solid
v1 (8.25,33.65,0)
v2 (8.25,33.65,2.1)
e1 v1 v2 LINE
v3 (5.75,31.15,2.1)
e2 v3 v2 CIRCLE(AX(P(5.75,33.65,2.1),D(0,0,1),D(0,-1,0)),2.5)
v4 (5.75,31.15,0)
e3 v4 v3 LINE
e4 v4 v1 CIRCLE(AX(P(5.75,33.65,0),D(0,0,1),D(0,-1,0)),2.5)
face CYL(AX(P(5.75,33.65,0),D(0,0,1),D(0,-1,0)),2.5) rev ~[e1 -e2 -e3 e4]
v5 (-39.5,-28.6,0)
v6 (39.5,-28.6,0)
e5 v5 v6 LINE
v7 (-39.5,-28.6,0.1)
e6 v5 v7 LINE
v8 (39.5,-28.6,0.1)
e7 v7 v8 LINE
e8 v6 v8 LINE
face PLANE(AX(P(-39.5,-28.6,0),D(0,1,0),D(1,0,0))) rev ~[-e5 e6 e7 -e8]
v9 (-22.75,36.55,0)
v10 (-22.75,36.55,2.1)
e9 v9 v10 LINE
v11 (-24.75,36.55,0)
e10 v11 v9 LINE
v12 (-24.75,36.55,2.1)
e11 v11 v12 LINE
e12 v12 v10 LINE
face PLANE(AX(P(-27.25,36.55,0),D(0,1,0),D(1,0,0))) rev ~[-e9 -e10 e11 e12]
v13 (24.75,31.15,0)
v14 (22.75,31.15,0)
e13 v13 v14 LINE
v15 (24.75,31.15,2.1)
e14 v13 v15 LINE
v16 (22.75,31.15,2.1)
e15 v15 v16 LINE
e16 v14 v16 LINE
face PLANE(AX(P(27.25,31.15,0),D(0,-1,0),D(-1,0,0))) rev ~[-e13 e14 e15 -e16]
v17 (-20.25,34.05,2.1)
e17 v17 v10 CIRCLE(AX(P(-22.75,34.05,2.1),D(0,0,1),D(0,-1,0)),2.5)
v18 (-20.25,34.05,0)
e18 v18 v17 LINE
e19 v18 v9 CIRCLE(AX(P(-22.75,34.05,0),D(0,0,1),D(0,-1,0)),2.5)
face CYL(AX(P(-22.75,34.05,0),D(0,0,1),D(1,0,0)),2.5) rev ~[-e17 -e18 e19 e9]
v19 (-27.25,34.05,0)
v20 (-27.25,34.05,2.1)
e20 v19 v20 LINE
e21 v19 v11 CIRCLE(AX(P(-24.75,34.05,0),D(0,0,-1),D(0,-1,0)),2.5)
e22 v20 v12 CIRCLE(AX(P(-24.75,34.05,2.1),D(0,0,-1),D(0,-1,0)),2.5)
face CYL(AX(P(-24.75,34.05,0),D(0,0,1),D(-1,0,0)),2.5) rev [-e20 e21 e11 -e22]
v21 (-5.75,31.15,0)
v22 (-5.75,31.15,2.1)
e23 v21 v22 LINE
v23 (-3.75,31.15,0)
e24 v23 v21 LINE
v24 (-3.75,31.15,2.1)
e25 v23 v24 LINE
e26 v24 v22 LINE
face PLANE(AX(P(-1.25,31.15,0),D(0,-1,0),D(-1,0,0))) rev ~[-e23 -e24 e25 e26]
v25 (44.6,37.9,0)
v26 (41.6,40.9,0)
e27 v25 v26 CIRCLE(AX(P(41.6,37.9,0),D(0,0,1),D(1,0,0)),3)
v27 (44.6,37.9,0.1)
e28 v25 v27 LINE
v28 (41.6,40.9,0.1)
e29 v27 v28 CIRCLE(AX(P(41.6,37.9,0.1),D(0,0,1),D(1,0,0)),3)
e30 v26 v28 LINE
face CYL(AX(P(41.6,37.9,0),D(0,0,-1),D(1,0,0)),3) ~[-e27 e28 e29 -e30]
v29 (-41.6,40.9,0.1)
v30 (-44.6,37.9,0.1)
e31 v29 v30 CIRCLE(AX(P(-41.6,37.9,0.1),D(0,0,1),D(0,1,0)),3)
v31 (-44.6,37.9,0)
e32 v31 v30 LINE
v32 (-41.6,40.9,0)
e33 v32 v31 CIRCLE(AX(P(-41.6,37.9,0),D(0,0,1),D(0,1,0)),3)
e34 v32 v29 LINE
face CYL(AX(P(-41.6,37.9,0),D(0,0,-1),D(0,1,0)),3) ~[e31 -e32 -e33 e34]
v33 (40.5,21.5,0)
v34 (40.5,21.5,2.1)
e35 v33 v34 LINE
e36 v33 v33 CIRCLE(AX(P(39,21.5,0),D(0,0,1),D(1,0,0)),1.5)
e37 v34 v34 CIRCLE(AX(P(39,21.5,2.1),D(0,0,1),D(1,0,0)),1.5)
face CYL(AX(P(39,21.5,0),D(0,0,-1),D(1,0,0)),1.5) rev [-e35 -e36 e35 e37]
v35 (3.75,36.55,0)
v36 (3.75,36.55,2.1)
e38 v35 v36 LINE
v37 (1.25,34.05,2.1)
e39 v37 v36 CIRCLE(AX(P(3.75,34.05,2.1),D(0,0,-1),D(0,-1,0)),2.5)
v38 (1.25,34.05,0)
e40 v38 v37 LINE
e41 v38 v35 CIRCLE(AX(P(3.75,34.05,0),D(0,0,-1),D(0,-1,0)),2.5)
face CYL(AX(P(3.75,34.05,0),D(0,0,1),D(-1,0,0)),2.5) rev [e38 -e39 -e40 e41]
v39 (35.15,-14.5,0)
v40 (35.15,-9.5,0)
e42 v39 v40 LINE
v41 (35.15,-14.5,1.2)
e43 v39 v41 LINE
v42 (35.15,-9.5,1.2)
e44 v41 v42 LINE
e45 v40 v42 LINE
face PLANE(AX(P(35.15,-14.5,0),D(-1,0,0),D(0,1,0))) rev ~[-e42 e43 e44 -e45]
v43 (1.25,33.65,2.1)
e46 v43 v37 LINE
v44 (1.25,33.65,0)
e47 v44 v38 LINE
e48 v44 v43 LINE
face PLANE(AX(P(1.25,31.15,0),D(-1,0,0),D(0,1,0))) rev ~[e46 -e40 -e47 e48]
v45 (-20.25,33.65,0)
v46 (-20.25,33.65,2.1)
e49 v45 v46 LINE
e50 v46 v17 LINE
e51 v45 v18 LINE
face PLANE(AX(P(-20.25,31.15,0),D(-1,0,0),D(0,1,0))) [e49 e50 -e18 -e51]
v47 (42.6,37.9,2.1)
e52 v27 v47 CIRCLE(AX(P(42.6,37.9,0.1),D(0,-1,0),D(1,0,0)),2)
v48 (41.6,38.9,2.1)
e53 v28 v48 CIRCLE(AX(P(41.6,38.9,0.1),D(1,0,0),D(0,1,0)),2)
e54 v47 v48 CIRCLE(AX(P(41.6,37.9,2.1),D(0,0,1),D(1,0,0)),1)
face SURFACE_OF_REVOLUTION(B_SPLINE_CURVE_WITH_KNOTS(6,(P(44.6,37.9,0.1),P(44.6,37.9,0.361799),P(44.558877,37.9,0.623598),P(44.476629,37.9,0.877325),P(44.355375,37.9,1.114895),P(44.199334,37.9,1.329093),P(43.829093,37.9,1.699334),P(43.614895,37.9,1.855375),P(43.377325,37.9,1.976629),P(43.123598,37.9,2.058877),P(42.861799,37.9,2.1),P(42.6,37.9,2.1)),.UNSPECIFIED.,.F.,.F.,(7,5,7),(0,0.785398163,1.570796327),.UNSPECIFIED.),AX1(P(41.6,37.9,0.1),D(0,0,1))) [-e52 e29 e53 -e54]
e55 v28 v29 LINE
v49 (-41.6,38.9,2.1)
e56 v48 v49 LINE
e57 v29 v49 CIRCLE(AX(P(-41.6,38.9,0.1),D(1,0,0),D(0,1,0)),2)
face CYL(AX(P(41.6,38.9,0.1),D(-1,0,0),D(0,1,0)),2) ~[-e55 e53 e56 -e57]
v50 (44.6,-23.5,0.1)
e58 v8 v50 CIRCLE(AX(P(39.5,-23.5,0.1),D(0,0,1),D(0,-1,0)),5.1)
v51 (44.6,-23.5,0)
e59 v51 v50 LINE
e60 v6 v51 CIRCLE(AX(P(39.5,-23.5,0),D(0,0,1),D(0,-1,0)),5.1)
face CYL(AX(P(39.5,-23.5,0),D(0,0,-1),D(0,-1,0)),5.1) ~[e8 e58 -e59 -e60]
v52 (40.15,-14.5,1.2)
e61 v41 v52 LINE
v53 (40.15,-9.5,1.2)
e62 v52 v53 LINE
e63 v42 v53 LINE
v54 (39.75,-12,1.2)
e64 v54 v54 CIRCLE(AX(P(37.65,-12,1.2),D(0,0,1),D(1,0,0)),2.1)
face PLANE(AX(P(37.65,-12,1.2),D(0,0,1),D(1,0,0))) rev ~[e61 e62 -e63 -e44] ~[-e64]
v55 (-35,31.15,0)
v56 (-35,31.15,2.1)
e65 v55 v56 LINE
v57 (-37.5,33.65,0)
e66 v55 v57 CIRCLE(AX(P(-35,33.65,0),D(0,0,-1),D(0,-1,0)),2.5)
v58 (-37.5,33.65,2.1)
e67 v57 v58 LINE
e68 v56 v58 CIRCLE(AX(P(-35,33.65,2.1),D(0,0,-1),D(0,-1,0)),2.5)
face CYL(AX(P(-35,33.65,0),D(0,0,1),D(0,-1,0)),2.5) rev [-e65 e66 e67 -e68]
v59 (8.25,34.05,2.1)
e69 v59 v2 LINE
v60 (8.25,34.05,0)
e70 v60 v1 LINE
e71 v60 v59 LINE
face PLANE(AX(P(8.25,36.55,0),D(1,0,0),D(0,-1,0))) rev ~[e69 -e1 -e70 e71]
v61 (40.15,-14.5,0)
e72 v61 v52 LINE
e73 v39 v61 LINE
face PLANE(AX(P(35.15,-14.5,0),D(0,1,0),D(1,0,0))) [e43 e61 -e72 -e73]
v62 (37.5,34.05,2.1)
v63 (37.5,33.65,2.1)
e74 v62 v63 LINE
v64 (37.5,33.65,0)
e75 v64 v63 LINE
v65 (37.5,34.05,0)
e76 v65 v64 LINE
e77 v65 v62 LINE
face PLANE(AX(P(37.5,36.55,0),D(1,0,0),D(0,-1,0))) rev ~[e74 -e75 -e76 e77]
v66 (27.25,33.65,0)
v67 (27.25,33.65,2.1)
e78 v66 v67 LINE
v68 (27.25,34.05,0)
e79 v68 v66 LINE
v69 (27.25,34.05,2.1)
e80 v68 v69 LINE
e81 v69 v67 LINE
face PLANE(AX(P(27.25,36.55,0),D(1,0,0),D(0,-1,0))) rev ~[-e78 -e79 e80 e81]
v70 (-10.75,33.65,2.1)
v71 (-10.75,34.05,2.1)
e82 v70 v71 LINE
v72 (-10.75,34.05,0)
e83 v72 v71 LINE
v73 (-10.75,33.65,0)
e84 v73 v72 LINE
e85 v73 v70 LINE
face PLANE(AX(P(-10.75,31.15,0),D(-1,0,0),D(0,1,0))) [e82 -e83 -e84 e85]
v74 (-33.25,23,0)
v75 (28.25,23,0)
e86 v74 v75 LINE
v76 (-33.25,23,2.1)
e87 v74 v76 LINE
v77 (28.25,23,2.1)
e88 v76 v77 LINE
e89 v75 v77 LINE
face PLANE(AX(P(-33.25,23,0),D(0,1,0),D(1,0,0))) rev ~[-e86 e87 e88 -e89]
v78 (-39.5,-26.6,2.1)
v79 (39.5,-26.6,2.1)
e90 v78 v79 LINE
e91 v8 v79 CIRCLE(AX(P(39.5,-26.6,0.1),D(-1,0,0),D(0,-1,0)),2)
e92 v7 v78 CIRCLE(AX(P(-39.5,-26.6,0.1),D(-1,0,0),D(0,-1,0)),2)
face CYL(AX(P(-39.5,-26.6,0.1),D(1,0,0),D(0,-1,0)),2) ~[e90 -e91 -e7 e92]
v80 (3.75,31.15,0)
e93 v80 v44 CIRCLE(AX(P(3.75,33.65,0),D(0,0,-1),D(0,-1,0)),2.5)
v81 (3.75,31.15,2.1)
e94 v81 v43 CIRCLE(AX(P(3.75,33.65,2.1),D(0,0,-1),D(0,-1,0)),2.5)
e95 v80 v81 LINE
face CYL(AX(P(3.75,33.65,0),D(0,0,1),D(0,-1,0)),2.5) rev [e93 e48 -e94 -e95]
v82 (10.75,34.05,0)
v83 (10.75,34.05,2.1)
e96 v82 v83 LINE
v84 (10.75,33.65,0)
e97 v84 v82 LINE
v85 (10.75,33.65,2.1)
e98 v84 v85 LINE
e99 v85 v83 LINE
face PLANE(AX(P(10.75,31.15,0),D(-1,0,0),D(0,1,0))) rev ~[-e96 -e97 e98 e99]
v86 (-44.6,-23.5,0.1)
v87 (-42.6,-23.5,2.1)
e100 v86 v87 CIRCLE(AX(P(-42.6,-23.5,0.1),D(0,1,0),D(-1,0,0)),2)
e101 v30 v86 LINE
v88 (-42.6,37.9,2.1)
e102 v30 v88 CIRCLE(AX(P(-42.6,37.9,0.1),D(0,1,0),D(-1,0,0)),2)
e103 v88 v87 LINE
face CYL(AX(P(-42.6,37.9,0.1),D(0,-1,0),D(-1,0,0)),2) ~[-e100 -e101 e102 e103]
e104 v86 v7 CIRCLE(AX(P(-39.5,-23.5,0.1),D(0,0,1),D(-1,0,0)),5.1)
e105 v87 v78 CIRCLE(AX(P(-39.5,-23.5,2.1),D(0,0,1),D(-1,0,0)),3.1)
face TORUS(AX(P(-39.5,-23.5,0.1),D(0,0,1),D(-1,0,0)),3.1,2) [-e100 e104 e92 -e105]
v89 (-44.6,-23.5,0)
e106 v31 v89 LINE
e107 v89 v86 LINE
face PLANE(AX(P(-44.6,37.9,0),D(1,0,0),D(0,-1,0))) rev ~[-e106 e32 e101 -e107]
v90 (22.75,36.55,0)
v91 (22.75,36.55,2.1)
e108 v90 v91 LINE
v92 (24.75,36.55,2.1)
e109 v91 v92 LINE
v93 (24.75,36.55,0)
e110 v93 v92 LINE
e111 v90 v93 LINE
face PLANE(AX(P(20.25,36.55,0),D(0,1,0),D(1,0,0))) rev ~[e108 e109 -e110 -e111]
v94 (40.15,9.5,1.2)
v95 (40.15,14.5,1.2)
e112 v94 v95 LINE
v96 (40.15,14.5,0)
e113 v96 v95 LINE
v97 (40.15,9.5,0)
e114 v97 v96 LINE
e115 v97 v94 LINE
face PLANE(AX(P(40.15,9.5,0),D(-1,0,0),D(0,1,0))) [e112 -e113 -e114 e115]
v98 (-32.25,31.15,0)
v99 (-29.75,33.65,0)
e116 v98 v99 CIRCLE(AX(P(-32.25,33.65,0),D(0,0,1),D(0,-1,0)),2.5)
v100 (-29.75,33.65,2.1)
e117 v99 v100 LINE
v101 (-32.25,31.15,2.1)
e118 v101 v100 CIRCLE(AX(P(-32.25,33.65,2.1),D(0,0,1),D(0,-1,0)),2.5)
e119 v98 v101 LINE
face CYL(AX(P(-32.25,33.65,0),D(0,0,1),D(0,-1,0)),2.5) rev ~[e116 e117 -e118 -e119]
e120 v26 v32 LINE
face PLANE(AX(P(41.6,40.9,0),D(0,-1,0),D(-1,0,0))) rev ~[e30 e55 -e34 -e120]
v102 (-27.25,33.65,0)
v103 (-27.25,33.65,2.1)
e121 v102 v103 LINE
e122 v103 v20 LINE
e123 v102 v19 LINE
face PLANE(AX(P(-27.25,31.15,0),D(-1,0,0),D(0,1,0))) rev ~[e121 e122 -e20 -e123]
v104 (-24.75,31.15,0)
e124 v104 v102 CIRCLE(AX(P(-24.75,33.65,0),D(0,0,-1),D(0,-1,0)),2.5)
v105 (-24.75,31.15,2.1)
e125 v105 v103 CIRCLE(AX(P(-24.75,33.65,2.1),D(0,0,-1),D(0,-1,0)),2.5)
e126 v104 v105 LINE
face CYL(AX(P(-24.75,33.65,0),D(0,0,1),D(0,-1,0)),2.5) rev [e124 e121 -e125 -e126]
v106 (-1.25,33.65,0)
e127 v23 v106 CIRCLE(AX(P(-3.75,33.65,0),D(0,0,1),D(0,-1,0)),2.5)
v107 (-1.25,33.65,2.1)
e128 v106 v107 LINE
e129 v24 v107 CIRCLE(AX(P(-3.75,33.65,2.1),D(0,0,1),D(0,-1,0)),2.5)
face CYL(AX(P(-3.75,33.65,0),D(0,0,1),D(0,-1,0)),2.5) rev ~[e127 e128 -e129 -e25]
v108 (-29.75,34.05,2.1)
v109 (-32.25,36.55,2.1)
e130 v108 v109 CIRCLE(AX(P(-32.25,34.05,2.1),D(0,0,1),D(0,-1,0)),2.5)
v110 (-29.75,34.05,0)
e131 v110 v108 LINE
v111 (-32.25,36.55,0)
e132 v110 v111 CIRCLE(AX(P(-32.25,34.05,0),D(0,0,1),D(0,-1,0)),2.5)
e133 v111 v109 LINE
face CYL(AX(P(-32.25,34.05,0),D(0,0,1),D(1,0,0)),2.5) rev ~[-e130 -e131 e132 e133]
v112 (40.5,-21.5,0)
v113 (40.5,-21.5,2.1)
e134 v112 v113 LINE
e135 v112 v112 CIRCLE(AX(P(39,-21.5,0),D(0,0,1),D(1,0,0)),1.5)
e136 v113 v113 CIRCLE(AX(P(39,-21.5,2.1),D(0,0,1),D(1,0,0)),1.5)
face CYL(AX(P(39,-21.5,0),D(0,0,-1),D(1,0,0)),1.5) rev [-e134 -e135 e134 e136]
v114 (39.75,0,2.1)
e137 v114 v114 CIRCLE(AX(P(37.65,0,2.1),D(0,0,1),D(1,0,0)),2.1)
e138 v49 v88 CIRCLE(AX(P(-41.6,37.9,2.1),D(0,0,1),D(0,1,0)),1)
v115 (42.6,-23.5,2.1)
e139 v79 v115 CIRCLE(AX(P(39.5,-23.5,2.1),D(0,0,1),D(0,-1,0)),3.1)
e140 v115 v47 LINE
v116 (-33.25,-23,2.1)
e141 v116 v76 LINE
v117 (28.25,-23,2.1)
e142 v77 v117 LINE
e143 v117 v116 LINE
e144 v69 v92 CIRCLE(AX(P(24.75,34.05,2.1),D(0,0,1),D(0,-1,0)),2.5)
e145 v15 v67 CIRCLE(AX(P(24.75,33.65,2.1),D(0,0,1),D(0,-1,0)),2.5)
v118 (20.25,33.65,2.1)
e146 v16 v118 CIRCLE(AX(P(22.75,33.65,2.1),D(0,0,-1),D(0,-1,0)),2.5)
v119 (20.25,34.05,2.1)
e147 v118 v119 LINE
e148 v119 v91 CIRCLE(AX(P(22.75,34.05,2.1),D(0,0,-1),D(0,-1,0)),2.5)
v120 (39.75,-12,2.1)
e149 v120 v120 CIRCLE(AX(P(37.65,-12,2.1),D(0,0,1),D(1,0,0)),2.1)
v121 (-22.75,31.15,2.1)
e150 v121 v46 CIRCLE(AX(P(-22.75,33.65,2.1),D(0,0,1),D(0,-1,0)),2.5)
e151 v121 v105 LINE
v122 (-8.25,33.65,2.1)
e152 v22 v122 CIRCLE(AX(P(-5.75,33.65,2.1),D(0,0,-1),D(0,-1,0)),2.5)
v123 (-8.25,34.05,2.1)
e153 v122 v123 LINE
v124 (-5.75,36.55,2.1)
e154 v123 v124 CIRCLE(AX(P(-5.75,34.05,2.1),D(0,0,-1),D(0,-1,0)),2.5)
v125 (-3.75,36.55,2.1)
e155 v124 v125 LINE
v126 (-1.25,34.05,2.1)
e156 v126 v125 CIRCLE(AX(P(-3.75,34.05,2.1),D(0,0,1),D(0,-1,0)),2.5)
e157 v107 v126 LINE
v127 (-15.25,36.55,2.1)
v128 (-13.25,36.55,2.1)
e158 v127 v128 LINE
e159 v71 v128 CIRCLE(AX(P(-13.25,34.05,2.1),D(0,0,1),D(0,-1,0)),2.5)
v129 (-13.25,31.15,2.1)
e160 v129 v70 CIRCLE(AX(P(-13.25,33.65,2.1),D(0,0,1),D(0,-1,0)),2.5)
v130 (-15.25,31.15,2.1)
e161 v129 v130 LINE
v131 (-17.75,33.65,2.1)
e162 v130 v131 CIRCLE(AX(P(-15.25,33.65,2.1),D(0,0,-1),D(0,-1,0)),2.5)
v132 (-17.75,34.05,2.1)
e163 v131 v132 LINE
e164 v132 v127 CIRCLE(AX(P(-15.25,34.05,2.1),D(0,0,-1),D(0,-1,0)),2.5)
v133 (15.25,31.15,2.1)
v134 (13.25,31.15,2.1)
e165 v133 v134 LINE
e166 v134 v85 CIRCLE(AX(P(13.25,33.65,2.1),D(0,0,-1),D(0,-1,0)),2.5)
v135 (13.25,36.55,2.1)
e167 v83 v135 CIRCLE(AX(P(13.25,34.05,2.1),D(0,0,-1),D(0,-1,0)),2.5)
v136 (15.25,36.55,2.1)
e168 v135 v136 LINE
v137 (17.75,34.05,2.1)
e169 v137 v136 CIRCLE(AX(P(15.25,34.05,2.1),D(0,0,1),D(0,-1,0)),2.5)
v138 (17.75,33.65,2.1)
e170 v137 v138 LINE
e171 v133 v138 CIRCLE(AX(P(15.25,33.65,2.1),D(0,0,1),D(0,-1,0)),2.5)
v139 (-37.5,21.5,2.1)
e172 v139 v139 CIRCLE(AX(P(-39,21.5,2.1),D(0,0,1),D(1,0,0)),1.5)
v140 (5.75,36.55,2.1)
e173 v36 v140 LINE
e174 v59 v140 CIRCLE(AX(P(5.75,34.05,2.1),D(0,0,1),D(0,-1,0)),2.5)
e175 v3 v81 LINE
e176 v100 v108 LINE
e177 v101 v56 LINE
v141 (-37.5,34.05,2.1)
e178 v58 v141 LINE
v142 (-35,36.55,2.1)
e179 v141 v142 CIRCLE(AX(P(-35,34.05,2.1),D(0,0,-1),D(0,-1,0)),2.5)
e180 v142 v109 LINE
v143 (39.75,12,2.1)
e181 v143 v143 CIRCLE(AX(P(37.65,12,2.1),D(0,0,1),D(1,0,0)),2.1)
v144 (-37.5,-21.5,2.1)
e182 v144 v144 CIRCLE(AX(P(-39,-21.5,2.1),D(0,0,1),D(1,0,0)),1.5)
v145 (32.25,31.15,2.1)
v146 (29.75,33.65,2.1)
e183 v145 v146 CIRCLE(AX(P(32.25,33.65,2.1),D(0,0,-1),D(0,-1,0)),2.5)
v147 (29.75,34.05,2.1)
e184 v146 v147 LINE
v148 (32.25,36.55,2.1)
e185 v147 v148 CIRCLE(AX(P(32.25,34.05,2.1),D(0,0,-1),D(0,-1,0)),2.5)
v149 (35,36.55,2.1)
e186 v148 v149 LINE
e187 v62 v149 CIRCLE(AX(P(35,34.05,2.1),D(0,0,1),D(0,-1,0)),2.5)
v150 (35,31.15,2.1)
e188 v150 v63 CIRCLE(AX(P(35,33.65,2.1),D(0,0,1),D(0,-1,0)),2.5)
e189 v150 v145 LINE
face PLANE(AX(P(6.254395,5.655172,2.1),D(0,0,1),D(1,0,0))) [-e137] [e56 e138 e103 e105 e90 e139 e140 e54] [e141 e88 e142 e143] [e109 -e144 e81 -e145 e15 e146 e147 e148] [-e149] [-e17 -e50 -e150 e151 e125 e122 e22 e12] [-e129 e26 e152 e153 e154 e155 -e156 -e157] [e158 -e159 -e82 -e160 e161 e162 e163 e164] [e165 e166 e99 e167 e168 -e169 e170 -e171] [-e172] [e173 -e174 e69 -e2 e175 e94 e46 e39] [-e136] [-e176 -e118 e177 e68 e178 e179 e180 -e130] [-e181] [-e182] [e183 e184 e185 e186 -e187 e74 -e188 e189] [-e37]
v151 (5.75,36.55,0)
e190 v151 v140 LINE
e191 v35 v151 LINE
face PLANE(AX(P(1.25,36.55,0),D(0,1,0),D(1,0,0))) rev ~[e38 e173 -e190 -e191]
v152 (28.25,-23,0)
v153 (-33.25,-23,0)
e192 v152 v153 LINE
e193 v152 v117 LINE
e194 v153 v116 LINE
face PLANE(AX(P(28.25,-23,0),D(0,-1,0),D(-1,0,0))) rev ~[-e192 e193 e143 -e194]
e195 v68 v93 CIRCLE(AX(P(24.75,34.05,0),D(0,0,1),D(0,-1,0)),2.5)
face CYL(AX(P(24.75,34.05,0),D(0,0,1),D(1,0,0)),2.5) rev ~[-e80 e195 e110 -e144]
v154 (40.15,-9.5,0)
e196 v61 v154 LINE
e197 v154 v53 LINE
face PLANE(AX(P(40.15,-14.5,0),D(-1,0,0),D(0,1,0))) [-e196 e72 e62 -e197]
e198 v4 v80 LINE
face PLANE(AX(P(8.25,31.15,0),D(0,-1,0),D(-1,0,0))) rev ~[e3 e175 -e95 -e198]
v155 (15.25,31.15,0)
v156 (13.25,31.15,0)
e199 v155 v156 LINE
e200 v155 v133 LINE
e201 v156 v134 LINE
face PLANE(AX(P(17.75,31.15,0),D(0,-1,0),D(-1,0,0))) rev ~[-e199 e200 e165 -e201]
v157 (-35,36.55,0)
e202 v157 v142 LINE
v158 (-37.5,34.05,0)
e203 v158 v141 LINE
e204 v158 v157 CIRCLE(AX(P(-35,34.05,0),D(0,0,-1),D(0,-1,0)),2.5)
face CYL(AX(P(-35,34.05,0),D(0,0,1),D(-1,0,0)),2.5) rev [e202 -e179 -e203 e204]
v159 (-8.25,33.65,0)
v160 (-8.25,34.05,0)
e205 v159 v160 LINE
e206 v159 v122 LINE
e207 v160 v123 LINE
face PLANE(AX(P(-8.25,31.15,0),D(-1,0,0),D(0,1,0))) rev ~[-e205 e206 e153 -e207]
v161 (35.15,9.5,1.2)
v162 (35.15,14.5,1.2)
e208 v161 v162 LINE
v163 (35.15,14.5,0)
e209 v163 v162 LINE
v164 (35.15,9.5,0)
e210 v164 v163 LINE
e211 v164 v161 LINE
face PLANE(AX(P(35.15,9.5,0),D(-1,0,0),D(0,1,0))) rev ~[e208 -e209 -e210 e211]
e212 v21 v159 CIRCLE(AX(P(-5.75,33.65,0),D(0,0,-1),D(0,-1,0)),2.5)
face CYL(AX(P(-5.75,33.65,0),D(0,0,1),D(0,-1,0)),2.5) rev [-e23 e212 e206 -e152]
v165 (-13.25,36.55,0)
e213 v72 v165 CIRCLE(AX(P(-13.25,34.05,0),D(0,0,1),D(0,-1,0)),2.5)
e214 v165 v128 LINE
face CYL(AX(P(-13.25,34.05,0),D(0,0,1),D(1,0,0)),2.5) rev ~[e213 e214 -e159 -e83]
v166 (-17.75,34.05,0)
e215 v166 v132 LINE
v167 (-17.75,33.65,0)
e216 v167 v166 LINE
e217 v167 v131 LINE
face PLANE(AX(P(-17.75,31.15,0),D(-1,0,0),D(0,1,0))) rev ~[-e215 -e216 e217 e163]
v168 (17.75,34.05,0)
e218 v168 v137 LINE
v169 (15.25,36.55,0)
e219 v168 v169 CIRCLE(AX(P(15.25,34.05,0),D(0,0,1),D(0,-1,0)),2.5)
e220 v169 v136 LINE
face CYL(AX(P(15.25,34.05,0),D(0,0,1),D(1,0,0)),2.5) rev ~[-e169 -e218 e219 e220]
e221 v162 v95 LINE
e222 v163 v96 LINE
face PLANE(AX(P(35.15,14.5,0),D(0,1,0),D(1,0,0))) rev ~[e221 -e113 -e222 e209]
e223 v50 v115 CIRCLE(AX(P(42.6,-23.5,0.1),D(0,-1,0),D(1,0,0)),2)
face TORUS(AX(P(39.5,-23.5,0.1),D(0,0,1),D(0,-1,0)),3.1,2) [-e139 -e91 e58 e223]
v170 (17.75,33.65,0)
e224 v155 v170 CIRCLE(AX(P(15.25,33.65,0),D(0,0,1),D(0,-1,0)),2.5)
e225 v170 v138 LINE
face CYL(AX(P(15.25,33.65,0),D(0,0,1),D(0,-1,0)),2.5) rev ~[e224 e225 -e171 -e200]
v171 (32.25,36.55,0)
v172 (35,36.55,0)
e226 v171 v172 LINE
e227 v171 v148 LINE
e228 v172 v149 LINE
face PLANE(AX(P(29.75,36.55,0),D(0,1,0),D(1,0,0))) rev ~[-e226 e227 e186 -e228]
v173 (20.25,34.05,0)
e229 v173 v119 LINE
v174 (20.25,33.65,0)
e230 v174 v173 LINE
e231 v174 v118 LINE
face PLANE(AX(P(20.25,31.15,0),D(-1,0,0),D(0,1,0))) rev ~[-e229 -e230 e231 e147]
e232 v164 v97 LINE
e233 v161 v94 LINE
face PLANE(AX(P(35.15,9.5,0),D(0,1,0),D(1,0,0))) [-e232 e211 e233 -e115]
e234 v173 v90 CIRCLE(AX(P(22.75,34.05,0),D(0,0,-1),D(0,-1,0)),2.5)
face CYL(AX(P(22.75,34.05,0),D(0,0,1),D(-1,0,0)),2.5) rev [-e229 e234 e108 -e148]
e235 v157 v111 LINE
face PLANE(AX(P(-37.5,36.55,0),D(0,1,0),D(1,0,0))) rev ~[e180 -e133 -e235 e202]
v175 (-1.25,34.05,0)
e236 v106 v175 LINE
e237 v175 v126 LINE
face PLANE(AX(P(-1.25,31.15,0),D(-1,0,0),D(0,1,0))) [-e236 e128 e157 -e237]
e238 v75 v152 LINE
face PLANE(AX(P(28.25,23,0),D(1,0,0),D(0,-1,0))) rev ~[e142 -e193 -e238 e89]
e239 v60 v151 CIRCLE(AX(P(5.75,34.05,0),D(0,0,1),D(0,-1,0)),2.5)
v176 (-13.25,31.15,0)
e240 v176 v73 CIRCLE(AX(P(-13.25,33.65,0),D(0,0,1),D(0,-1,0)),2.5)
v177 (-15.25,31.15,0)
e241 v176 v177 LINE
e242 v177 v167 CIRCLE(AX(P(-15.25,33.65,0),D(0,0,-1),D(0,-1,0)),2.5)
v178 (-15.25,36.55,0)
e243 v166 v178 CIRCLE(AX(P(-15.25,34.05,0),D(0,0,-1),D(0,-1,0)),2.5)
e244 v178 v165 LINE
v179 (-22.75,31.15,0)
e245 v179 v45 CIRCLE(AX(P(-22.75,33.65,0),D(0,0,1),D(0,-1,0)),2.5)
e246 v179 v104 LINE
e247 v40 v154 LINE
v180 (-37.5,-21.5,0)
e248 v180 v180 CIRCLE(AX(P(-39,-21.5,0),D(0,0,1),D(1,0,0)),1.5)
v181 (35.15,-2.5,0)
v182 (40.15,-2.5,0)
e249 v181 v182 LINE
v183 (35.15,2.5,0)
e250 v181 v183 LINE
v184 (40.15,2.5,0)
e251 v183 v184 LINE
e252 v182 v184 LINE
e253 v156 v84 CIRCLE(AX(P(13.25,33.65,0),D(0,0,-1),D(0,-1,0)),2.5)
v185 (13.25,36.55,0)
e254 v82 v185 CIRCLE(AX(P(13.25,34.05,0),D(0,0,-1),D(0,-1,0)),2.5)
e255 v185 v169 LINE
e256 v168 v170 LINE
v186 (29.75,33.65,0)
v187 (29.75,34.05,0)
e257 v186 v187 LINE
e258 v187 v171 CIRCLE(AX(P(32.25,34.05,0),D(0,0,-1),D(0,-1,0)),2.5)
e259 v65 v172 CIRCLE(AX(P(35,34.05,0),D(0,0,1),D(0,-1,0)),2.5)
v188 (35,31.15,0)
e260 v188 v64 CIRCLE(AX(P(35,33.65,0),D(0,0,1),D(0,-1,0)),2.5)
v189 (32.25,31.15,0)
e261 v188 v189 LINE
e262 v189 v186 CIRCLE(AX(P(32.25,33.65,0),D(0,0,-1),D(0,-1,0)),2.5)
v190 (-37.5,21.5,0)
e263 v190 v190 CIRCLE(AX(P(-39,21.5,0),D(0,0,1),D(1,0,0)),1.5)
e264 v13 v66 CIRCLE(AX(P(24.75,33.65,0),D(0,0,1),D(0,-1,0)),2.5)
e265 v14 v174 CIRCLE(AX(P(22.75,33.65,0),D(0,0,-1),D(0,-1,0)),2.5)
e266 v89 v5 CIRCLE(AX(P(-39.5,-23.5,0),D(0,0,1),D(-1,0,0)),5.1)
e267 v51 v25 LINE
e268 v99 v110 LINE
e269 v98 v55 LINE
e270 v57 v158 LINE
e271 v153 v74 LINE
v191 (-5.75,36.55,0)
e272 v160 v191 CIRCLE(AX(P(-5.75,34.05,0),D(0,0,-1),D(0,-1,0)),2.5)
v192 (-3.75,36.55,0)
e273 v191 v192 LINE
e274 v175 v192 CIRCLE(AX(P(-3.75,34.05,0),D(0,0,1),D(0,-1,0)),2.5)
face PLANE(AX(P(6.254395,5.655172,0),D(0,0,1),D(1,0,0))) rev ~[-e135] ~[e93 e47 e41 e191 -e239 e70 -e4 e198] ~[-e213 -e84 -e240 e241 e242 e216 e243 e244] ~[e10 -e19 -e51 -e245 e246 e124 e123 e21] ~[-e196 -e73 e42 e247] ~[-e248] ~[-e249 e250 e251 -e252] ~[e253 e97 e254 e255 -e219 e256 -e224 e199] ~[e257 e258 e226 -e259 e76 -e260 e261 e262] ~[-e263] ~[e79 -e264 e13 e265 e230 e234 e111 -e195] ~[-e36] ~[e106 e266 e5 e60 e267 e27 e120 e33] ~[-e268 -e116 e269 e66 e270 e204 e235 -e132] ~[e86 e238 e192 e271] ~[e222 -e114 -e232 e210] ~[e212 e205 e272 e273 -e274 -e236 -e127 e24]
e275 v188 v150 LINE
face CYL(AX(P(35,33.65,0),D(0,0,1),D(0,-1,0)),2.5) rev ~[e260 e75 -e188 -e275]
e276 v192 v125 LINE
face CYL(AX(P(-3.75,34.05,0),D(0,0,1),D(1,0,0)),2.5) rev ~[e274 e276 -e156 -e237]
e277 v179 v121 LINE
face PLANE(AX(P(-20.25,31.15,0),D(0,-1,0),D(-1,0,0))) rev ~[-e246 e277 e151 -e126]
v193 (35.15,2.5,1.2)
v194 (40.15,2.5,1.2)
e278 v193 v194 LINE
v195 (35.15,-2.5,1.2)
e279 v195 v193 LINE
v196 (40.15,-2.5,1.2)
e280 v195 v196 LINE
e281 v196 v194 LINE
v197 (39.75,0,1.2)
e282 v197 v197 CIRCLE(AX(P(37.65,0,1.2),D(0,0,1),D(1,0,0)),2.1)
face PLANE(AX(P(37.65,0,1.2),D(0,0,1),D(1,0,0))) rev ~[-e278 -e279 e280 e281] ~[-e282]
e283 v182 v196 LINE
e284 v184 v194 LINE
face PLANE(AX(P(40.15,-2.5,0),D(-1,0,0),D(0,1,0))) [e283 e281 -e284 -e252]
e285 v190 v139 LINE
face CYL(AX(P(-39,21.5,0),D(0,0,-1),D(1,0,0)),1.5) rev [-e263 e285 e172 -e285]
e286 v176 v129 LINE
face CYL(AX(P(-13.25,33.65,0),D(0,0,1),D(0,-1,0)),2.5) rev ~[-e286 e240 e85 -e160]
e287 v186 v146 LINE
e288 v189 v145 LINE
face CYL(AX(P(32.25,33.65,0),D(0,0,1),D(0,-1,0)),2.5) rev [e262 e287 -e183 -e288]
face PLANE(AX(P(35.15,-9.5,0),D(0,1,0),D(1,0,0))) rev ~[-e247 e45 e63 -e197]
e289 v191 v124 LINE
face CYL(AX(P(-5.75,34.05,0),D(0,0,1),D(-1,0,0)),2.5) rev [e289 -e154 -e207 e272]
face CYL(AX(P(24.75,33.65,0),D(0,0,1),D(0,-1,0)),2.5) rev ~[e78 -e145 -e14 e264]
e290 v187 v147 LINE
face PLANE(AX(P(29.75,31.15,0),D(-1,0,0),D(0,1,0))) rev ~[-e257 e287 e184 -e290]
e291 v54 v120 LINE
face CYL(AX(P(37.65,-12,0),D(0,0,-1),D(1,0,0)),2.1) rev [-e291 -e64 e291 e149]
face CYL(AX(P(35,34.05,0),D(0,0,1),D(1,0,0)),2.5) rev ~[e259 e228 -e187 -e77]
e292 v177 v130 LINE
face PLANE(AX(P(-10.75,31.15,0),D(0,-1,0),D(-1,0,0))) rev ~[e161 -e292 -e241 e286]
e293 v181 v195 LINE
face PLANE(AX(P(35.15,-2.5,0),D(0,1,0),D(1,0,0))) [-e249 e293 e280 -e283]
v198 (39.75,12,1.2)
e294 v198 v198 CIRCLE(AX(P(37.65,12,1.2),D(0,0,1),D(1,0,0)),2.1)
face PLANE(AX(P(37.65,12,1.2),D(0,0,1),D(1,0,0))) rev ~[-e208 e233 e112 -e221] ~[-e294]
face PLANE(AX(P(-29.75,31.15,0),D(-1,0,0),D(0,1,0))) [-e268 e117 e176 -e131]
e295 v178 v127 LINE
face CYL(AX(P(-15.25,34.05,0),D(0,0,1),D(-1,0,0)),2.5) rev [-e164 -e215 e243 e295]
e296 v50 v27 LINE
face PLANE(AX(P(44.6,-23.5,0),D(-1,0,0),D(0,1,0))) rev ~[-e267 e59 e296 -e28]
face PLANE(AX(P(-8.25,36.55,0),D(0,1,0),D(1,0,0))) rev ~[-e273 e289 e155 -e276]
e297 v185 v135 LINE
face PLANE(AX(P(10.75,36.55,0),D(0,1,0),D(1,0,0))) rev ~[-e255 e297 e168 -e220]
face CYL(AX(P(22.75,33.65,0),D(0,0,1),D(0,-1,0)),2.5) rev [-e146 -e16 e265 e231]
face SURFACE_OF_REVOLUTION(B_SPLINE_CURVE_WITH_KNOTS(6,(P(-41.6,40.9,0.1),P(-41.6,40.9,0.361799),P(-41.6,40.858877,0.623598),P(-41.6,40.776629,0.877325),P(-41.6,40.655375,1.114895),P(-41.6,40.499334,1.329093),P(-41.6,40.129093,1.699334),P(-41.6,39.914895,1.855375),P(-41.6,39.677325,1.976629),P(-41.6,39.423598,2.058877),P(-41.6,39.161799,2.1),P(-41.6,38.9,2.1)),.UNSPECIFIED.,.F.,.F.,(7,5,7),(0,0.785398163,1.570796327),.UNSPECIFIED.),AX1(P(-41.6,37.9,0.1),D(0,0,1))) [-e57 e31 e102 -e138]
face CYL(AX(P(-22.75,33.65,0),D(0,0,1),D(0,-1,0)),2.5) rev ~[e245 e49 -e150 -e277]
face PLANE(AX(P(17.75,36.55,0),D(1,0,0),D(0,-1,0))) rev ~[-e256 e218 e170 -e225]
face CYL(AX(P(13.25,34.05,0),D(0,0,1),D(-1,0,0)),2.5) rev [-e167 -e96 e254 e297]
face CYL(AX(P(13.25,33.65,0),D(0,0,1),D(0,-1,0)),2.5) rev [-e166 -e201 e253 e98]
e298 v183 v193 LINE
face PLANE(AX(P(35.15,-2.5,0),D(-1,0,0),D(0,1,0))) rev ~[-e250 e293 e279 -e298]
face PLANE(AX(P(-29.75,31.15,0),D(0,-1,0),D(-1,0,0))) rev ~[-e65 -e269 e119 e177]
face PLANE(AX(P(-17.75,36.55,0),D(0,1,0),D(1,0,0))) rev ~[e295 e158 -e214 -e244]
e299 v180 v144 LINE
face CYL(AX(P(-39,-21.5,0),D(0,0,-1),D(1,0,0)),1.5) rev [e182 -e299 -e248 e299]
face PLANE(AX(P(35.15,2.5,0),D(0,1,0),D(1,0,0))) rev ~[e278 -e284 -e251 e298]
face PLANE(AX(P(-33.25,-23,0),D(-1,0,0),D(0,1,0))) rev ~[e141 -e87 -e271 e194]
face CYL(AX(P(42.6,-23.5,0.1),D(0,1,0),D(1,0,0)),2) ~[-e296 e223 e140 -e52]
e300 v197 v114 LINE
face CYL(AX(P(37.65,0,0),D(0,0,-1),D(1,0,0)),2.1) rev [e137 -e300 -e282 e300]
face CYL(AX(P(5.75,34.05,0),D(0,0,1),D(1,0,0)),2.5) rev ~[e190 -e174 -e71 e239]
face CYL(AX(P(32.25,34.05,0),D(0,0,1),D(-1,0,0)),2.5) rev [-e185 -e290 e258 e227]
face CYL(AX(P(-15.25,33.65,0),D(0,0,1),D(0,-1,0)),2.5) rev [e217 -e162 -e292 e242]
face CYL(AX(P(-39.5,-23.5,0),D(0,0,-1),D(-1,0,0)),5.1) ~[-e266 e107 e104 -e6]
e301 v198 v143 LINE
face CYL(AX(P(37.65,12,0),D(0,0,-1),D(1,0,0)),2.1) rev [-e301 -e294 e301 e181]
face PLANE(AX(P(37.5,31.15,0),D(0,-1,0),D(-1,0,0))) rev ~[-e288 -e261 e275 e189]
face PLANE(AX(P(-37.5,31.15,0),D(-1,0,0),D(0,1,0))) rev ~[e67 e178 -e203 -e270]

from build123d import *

# Parameters (mm, degrees)
F0_R     = 1.5
F0_W     = 5
F0_H     = 5
F0_W_2   = 7.5
F0_H_2   = 18
F0_W_3   = 2.1
F0_W_4   = 2.5
F0_H_3   = 5.4
F0_R_2   = 2.1
F1_DEPTH = 2.1
F2_R     = 2
F3_R     = 2.5
F4_DEPTH = 1.2


with BuildPart() as f1:
    # F0 (on Top) → F1 (new body)
    with BuildSketch(Plane.XY):
        with BuildLine():
            Line((39.5, -26.5), (35, -26.5))
            Line((35, -26.5), (-35, -26.5))
            Line((-35, -26.5), (-39.5, -26.5))
            ThreePointArc((-39.5, -26.5), (-41.6213203436, -25.6213203436), (-42.5, -23.5))
            Line((-42.5, -23.5), (-42.5, -9))
            Line((-42.5, -9), (-44.6, -9))
            Line((-44.6, -9), (-44.6, -23.5))
            ThreePointArc((-44.6, -23.5), (-43.1062445841, -27.1062445841), (-39.5, -28.6))
            Line((-39.5, -28.6), (39.5, -28.6))
            ThreePointArc((39.5, -28.6), (43.1062445841, -27.1062445841), (44.6, -23.5))
            Line((44.6, -23.5), (44.6, 23.5))
            Line((44.6, 23.5), (44.6, 37.9))
            ThreePointArc((44.6, 37.9), (43.7213203436, 40.0213203436), (41.6, 40.9))
            Line((41.6, 40.9), (0, 40.9))
            Line((0, 40.9), (-41.6, 40.9))
            ThreePointArc((-41.6, 40.9), (-43.7213203436, 40.0213203436), (-44.6, 37.9))
            Line((-44.6, 37.9), (-44.6, 31.15))
            Line((-44.6, 31.15), (-42.5, 31.15))
            Line((-42.5, 31.15), (-42.5, 36.1))
            ThreePointArc((-42.5, 36.1), (-41.6213203436, 38.2213203436), (-39.5, 39.1))
            Line((-39.5, 39.1), (0, 39.1))
            Line((0, 39.1), (39.5, 39.1))
            ThreePointArc((39.5, 39.1), (41.6213203436, 38.2213203436), (42.5, 36.1))
            Line((42.5, 36.1), (42.5, 28.6))
            Line((42.5, 28.6), (42.5, 23.5))
            Line((42.5, 23.5), (42.5, -23.5))
            ThreePointArc((42.5, -23.5), (41.6213203436, -25.6213203436), (39.5, -26.5))
        make_face()
        with BuildLine():
            Line((-35, 26.5), (-39.5, 26.5))
            ThreePointArc((-39.5, 26.5), (-41.6213203436, 25.6213203436), (-42.5, 23.5))
            Line((-42.5, 23.5), (-42.5, 9))
            Line((-42.5, 9), (-35, 9))
            Line((-35, 9), (-35, 26.5))
        make_face()
        with Locations((-39, 21.5)):
            Circle(F0_R, mode=Mode.SUBTRACT)
        with BuildLine():
            Line((-35, -26.5), (-35, -9))
            Line((-35, -9), (-42.5, -9))
            Line((-42.5, -9), (-42.5, -23.5))
            ThreePointArc((-42.5, -23.5), (-41.6213203436, -25.6213203436), (-39.5, -26.5))
            Line((-39.5, -26.5), (-35, -26.5))
        make_face()
        with Locations((-39, -21.5)):
            Circle(F0_R, mode=Mode.SUBTRACT)
        with BuildLine():
            Line((39.5, 26.5), (35, 26.5))
            Line((35, 26.5), (35, -26.5))
            Line((35, -26.5), (39.5, -26.5))
            ThreePointArc((39.5, -26.5), (41.6213203436, -25.6213203436), (42.5, -23.5))
            Line((42.5, -23.5), (42.5, 23.5))
            ThreePointArc((42.5, 23.5), (41.6213203436, 25.6213203436), (39.5, 26.5))
        make_face()
        with Locations((39, -21.5)):
            Circle(F0_R, mode=Mode.SUBTRACT)
        with Locations((37.65, -12)):
            Rectangle(F0_W, F0_H, mode=Mode.SUBTRACT)
        with Locations((37.65, 0)):
            Rectangle(F0_W, F0_H, mode=Mode.SUBTRACT)
        with Locations((37.65, 12)):
            Rectangle(F0_W, F0_H, mode=Mode.SUBTRACT)
        with Locations((39, 21.5)):
            Circle(F0_R, mode=Mode.SUBTRACT)
        with BuildLine():
            ThreePointArc((-42.5, 23.5), (-41.6213203436, 25.6213203436), (-39.5, 26.5))
            Line((-39.5, 26.5), (-35, 26.5))
            Line((-35, 26.5), (35, 26.5))
            Line((35, 26.5), (39.5, 26.5))
            ThreePointArc((39.5, 26.5), (41.6213203436, 25.6213203436), (42.5, 23.5))
            Line((42.5, 23.5), (42.5, 28.6))
            Line((42.5, 28.6), (39.5, 28.6))
            Line((39.5, 28.6), (-39.5, 28.6))
            Line((-39.5, 28.6), (-42.5, 28.6))
            Line((-42.5, 28.6), (-42.5, 23.5))
        make_face()
        with BuildLine():
            add(Edge.make_bspline(
                [(-39.5, 28.6), (-37.9241914811, 28.6), (-37.1137756714, 31.15)],
                knots=[3.1415926536, 3.1415926536, 3.1415926536, 4.1722144101, 4.1722144101, 4.1722144101], degree=2, weights=[1, 0.8701395619, 1]))
            Line((-39.5, 28.6), (39.5, 28.6))
            Line((39.5, 28.6), (42.5, 28.6))
            Line((42.5, 28.6), (42.5, 36.1))
            ThreePointArc((42.5, 36.1), (41.6213203436, 38.2213203436), (39.5, 39.1))
            Line((39.5, 39.1), (0, 39.1))
            Line((0, 39.1), (-39.5, 39.1))
            add(Edge.make_bspline(
                [(-37.1137756714, 36.55), (-37.9241914811, 39.1), (-39.5, 39.1)],
                knots=[5.2525635507, 5.2525635507, 5.2525635507, 6.2831853072, 6.2831853072, 6.2831853072], degree=2, weights=[1, 0.8701395619, 1]))
            Line((-37.1137756714, 36.55), (-29.75, 36.55))
            Line((-29.75, 36.55), (-27.25, 36.55))
            Line((-27.25, 36.55), (-20.25, 36.55))
            Line((-20.25, 36.55), (-17.75, 36.55))
            Line((-17.75, 36.55), (-10.75, 36.55))
            Line((-10.75, 36.55), (-8.25, 36.55))
            Line((-8.25, 36.55), (-1.25, 36.55))
            Line((-1.25, 36.55), (1.25, 36.55))
            Line((1.25, 36.55), (8.25, 36.55))
            Line((8.25, 36.55), (10.75, 36.55))
            Line((10.75, 36.55), (17.75, 36.55))
            Line((17.75, 36.55), (20.25, 36.55))
            Line((20.25, 36.55), (27.25, 36.55))
            Line((27.25, 36.55), (29.75, 36.55))
            Line((29.75, 36.55), (37.5, 36.55))
            Line((37.5, 36.55), (37.5, 31.15))
            Line((37.5, 31.15), (29.75, 31.15))
            Line((29.75, 31.15), (28, 31.15))
            Line((28, 31.15), (27.25, 31.15))
            Line((27.25, 31.15), (20.25, 31.15))
            Line((20.25, 31.15), (18.5, 31.15))
            Line((18.5, 31.15), (17.75, 31.15))
            Line((17.75, 31.15), (10.75, 31.15))
            Line((10.75, 31.15), (9, 31.15))
            Line((9, 31.15), (8.25, 31.15))
            Line((8.25, 31.15), (1.25, 31.15))
            Line((1.25, 31.15), (-1.25, 31.15))
            Line((-1.25, 31.15), (-8.25, 31.15))
            Line((-8.25, 31.15), (-10.75, 31.15))
            Line((-10.75, 31.15), (-17.75, 31.15))
            Line((-17.75, 31.15), (-20.25, 31.15))
            Line((-20.25, 31.15), (-27.25, 31.15))
            Line((-27.25, 31.15), (-29.75, 31.15))
            Line((-29.75, 31.15), (-37.1137756714, 31.15))
        make_face()
        with BuildLine():
            Line((-42.5, 36.1), (-42.5, 31.15))
            Line((-42.5, 31.15), (-41.8862243286, 31.15))
            add(Edge.make_bspline(
                [(-39.5, 39.1), (-44.4128147941, 39.1), (-41.8862243286, 31.15)],
                knots=[0, 0, 0, 2.1109708971, 2.1109708971, 2.1109708971], degree=2, weights=[1, 0.4928053803, 1]))
            ThreePointArc((-39.5, 39.1), (-41.6213203436, 38.2213203436), (-42.5, 36.1))
        make_face()
        with Locations((-38.75, 0)):
            Rectangle(F0_W_2, F0_H_2)
        with Locations((-43.55, 0)):
            Rectangle(F0_W_3, F0_H_2)
        with BuildLine():
            add(Edge.make_bspline(
                [(-41.8862243286, 31.15), (-41.0758085189, 28.6), (-39.5, 28.6)],
                knots=[2.1109708971, 2.1109708971, 2.1109708971, 3.1415926536, 3.1415926536, 3.1415926536], degree=2, weights=[1, 0.8701395619, 1]))
            add(Edge.make_bspline(
                [(-39.5, 28.6), (-37.9241914811, 28.6), (-37.1137756714, 31.15)],
                knots=[3.1415926536, 3.1415926536, 3.1415926536, 4.1722144101, 4.1722144101, 4.1722144101], degree=2, weights=[1, 0.8701395619, 1]))
            Line((-37.1137756714, 31.15), (-37.5, 31.15))
            Line((-37.5, 31.15), (-41.8862243286, 31.15))
        make_face()
        Polygon((35, 26.5), (-35, 26.5), (-35, 9), (-35, -9), (-35, -26.5), (35, -26.5), align=None)
        Polygon((-33.25, 23), (0, 23), (28.25, 23), (28.25, -23), (-33.25, -23), align=None, mode=Mode.SUBTRACT)
        with Locations((-28.5, 33.85)):
            Rectangle(F0_W_4, F0_H_3)
        with Locations((-19, 33.85)):
            Rectangle(F0_W_4, F0_H_3)
        with Locations((-9.5, 33.85)):
            Rectangle(F0_W_4, F0_H_3)
        with Locations((0, 33.85)):
            Rectangle(F0_W_4, F0_H_3)
        Polygon((8.25, 36.55), (8.25, 31.15), (9, 31.15), (10.75, 31.15), (10.75, 36.55), align=None)
        Polygon((20.25, 36.55), (17.75, 36.55), (17.75, 31.15), (18.5, 31.15), (20.25, 31.15), align=None)
        Polygon((29.75, 36.55), (27.25, 36.55), (27.25, 31.15), (28, 31.15), (29.75, 31.15), align=None)
        with BuildLine():
            add(Edge.make_bspline(
                [(-39.5, 39.1), (-44.4128147941, 39.1), (-41.8862243286, 31.15)],
                knots=[0, 0, 0, 2.1109708971, 2.1109708971, 2.1109708971], degree=2, weights=[1, 0.4928053803, 1]))
            Line((-41.8862243286, 31.15), (-37.5, 31.15))
            Line((-37.5, 31.15), (-37.5, 36.55))
            Line((-37.5, 36.55), (-37.1137756714, 36.55))
            add(Edge.make_bspline(
                [(-37.1137756714, 36.55), (-37.9241914811, 39.1), (-39.5, 39.1)],
                knots=[5.2525635507, 5.2525635507, 5.2525635507, 6.2831853072, 6.2831853072, 6.2831853072], degree=2, weights=[1, 0.8701395619, 1]))
        make_face()
        with BuildLine():
            Line((-42.5, 31.15), (-42.5, 28.6))
            Line((-42.5, 28.6), (-39.5, 28.6))
            add(Edge.make_bspline(
                [(-41.8862243286, 31.15), (-41.0758085189, 28.6), (-39.5, 28.6)],
                knots=[2.1109708971, 2.1109708971, 2.1109708971, 3.1415926536, 3.1415926536, 3.1415926536], degree=2, weights=[1, 0.8701395619, 1]))
            Line((-41.8862243286, 31.15), (-42.5, 31.15))
        make_face()
        Polygon((-42.5, 9), (-42.5, 23.5), (-42.5, 28.6), (-42.5, 31.15), (-44.6, 31.15), (-44.6, 23.5), (-44.6, 9), align=None)
        with Locations((37.65, 12)):
            Rectangle(F0_W, F0_H)
        with Locations((37.65, 12)):
            Circle(F0_R_2, mode=Mode.SUBTRACT)
        with Locations((37.65, 0)):
            Rectangle(F0_W, F0_H)
        with Locations((37.65, 0)):
            Circle(F0_R_2, mode=Mode.SUBTRACT)
        with Locations((37.65, -12)):
            Rectangle(F0_W, F0_H)
        with Locations((37.65, -12)):
            Circle(F0_R_2, mode=Mode.SUBTRACT)
    extrude(amount=F1_DEPTH)

    # F2
    f2_edges = [f1.edges().sort_by_distance(p)[0] for p in [
        (-44.6, 7.2, 2.1),
    ]]
    fillet(f2_edges, radius=F2_R)

    # F3
    f3_edges = [f1.edges().sort_by_distance(p)[0] for p in [
        (-37.5, 36.55, 1.05),
        (-27.25, 36.55, 1.05),
        (-17.75, 36.55, 1.05),
        (-8.25, 36.55, 1.05),
        (1.25, 36.55, 1.05),
        (10.75, 36.55, 1.05),
        (20.25, 36.55, 1.05),
        (29.75, 36.55, 1.05),
        (37.5, 36.55, 1.05),
        (27.25, 36.55, 1.05),
        (17.75, 36.55, 1.05),
        (8.25, 36.55, 1.05),
        (-1.25, 36.55, 1.05),
        (-10.75, 36.55, 1.05),
        (-20.25, 36.55, 1.05),
        (-29.75, 36.55, 1.05),
        (-37.5, 31.15, 1.05),
        (-27.25, 31.15, 1.05),
        (-17.75, 31.15, 1.05),
        (-8.25, 31.15, 1.05),
        (1.25, 31.15, 1.05),
        (10.75, 31.15, 1.05),
        (29.75, 31.15, 1.05),
        (20.25, 31.15, 1.05),
        (37.5, 31.15, 1.05),
        (17.75, 31.15, 1.05),
        (27.25, 31.15, 1.05),
        (8.25, 31.15, 1.05),
        (-1.25, 31.15, 1.05),
        (-10.75, 31.15, 1.05),
        (-20.25, 31.15, 1.05),
        (-29.75, 31.15, 1.05),
    ]]
    fillet(f3_edges, radius=F3_R)

    # F0 (on Top) → F4 (cut)
    with BuildSketch(Plane.XY):
        with Locations((37.65, 12)):
            Rectangle(F0_W, F0_H)
        with Locations((37.65, 12)):
            Circle(F0_R_2, mode=Mode.SUBTRACT)
        with Locations((37.65, 0)):
            Rectangle(F0_W, F0_H)
        with Locations((37.65, 0)):
            Circle(F0_R_2, mode=Mode.SUBTRACT)
        with Locations((37.65, -12)):
            Rectangle(F0_W, F0_H)
        with Locations((37.65, -12)):
            Circle(F0_R_2, mode=Mode.SUBTRACT)
    extrude(amount=F4_DEPTH, mode=Mode.SUBTRACT)


solid = f1.part
